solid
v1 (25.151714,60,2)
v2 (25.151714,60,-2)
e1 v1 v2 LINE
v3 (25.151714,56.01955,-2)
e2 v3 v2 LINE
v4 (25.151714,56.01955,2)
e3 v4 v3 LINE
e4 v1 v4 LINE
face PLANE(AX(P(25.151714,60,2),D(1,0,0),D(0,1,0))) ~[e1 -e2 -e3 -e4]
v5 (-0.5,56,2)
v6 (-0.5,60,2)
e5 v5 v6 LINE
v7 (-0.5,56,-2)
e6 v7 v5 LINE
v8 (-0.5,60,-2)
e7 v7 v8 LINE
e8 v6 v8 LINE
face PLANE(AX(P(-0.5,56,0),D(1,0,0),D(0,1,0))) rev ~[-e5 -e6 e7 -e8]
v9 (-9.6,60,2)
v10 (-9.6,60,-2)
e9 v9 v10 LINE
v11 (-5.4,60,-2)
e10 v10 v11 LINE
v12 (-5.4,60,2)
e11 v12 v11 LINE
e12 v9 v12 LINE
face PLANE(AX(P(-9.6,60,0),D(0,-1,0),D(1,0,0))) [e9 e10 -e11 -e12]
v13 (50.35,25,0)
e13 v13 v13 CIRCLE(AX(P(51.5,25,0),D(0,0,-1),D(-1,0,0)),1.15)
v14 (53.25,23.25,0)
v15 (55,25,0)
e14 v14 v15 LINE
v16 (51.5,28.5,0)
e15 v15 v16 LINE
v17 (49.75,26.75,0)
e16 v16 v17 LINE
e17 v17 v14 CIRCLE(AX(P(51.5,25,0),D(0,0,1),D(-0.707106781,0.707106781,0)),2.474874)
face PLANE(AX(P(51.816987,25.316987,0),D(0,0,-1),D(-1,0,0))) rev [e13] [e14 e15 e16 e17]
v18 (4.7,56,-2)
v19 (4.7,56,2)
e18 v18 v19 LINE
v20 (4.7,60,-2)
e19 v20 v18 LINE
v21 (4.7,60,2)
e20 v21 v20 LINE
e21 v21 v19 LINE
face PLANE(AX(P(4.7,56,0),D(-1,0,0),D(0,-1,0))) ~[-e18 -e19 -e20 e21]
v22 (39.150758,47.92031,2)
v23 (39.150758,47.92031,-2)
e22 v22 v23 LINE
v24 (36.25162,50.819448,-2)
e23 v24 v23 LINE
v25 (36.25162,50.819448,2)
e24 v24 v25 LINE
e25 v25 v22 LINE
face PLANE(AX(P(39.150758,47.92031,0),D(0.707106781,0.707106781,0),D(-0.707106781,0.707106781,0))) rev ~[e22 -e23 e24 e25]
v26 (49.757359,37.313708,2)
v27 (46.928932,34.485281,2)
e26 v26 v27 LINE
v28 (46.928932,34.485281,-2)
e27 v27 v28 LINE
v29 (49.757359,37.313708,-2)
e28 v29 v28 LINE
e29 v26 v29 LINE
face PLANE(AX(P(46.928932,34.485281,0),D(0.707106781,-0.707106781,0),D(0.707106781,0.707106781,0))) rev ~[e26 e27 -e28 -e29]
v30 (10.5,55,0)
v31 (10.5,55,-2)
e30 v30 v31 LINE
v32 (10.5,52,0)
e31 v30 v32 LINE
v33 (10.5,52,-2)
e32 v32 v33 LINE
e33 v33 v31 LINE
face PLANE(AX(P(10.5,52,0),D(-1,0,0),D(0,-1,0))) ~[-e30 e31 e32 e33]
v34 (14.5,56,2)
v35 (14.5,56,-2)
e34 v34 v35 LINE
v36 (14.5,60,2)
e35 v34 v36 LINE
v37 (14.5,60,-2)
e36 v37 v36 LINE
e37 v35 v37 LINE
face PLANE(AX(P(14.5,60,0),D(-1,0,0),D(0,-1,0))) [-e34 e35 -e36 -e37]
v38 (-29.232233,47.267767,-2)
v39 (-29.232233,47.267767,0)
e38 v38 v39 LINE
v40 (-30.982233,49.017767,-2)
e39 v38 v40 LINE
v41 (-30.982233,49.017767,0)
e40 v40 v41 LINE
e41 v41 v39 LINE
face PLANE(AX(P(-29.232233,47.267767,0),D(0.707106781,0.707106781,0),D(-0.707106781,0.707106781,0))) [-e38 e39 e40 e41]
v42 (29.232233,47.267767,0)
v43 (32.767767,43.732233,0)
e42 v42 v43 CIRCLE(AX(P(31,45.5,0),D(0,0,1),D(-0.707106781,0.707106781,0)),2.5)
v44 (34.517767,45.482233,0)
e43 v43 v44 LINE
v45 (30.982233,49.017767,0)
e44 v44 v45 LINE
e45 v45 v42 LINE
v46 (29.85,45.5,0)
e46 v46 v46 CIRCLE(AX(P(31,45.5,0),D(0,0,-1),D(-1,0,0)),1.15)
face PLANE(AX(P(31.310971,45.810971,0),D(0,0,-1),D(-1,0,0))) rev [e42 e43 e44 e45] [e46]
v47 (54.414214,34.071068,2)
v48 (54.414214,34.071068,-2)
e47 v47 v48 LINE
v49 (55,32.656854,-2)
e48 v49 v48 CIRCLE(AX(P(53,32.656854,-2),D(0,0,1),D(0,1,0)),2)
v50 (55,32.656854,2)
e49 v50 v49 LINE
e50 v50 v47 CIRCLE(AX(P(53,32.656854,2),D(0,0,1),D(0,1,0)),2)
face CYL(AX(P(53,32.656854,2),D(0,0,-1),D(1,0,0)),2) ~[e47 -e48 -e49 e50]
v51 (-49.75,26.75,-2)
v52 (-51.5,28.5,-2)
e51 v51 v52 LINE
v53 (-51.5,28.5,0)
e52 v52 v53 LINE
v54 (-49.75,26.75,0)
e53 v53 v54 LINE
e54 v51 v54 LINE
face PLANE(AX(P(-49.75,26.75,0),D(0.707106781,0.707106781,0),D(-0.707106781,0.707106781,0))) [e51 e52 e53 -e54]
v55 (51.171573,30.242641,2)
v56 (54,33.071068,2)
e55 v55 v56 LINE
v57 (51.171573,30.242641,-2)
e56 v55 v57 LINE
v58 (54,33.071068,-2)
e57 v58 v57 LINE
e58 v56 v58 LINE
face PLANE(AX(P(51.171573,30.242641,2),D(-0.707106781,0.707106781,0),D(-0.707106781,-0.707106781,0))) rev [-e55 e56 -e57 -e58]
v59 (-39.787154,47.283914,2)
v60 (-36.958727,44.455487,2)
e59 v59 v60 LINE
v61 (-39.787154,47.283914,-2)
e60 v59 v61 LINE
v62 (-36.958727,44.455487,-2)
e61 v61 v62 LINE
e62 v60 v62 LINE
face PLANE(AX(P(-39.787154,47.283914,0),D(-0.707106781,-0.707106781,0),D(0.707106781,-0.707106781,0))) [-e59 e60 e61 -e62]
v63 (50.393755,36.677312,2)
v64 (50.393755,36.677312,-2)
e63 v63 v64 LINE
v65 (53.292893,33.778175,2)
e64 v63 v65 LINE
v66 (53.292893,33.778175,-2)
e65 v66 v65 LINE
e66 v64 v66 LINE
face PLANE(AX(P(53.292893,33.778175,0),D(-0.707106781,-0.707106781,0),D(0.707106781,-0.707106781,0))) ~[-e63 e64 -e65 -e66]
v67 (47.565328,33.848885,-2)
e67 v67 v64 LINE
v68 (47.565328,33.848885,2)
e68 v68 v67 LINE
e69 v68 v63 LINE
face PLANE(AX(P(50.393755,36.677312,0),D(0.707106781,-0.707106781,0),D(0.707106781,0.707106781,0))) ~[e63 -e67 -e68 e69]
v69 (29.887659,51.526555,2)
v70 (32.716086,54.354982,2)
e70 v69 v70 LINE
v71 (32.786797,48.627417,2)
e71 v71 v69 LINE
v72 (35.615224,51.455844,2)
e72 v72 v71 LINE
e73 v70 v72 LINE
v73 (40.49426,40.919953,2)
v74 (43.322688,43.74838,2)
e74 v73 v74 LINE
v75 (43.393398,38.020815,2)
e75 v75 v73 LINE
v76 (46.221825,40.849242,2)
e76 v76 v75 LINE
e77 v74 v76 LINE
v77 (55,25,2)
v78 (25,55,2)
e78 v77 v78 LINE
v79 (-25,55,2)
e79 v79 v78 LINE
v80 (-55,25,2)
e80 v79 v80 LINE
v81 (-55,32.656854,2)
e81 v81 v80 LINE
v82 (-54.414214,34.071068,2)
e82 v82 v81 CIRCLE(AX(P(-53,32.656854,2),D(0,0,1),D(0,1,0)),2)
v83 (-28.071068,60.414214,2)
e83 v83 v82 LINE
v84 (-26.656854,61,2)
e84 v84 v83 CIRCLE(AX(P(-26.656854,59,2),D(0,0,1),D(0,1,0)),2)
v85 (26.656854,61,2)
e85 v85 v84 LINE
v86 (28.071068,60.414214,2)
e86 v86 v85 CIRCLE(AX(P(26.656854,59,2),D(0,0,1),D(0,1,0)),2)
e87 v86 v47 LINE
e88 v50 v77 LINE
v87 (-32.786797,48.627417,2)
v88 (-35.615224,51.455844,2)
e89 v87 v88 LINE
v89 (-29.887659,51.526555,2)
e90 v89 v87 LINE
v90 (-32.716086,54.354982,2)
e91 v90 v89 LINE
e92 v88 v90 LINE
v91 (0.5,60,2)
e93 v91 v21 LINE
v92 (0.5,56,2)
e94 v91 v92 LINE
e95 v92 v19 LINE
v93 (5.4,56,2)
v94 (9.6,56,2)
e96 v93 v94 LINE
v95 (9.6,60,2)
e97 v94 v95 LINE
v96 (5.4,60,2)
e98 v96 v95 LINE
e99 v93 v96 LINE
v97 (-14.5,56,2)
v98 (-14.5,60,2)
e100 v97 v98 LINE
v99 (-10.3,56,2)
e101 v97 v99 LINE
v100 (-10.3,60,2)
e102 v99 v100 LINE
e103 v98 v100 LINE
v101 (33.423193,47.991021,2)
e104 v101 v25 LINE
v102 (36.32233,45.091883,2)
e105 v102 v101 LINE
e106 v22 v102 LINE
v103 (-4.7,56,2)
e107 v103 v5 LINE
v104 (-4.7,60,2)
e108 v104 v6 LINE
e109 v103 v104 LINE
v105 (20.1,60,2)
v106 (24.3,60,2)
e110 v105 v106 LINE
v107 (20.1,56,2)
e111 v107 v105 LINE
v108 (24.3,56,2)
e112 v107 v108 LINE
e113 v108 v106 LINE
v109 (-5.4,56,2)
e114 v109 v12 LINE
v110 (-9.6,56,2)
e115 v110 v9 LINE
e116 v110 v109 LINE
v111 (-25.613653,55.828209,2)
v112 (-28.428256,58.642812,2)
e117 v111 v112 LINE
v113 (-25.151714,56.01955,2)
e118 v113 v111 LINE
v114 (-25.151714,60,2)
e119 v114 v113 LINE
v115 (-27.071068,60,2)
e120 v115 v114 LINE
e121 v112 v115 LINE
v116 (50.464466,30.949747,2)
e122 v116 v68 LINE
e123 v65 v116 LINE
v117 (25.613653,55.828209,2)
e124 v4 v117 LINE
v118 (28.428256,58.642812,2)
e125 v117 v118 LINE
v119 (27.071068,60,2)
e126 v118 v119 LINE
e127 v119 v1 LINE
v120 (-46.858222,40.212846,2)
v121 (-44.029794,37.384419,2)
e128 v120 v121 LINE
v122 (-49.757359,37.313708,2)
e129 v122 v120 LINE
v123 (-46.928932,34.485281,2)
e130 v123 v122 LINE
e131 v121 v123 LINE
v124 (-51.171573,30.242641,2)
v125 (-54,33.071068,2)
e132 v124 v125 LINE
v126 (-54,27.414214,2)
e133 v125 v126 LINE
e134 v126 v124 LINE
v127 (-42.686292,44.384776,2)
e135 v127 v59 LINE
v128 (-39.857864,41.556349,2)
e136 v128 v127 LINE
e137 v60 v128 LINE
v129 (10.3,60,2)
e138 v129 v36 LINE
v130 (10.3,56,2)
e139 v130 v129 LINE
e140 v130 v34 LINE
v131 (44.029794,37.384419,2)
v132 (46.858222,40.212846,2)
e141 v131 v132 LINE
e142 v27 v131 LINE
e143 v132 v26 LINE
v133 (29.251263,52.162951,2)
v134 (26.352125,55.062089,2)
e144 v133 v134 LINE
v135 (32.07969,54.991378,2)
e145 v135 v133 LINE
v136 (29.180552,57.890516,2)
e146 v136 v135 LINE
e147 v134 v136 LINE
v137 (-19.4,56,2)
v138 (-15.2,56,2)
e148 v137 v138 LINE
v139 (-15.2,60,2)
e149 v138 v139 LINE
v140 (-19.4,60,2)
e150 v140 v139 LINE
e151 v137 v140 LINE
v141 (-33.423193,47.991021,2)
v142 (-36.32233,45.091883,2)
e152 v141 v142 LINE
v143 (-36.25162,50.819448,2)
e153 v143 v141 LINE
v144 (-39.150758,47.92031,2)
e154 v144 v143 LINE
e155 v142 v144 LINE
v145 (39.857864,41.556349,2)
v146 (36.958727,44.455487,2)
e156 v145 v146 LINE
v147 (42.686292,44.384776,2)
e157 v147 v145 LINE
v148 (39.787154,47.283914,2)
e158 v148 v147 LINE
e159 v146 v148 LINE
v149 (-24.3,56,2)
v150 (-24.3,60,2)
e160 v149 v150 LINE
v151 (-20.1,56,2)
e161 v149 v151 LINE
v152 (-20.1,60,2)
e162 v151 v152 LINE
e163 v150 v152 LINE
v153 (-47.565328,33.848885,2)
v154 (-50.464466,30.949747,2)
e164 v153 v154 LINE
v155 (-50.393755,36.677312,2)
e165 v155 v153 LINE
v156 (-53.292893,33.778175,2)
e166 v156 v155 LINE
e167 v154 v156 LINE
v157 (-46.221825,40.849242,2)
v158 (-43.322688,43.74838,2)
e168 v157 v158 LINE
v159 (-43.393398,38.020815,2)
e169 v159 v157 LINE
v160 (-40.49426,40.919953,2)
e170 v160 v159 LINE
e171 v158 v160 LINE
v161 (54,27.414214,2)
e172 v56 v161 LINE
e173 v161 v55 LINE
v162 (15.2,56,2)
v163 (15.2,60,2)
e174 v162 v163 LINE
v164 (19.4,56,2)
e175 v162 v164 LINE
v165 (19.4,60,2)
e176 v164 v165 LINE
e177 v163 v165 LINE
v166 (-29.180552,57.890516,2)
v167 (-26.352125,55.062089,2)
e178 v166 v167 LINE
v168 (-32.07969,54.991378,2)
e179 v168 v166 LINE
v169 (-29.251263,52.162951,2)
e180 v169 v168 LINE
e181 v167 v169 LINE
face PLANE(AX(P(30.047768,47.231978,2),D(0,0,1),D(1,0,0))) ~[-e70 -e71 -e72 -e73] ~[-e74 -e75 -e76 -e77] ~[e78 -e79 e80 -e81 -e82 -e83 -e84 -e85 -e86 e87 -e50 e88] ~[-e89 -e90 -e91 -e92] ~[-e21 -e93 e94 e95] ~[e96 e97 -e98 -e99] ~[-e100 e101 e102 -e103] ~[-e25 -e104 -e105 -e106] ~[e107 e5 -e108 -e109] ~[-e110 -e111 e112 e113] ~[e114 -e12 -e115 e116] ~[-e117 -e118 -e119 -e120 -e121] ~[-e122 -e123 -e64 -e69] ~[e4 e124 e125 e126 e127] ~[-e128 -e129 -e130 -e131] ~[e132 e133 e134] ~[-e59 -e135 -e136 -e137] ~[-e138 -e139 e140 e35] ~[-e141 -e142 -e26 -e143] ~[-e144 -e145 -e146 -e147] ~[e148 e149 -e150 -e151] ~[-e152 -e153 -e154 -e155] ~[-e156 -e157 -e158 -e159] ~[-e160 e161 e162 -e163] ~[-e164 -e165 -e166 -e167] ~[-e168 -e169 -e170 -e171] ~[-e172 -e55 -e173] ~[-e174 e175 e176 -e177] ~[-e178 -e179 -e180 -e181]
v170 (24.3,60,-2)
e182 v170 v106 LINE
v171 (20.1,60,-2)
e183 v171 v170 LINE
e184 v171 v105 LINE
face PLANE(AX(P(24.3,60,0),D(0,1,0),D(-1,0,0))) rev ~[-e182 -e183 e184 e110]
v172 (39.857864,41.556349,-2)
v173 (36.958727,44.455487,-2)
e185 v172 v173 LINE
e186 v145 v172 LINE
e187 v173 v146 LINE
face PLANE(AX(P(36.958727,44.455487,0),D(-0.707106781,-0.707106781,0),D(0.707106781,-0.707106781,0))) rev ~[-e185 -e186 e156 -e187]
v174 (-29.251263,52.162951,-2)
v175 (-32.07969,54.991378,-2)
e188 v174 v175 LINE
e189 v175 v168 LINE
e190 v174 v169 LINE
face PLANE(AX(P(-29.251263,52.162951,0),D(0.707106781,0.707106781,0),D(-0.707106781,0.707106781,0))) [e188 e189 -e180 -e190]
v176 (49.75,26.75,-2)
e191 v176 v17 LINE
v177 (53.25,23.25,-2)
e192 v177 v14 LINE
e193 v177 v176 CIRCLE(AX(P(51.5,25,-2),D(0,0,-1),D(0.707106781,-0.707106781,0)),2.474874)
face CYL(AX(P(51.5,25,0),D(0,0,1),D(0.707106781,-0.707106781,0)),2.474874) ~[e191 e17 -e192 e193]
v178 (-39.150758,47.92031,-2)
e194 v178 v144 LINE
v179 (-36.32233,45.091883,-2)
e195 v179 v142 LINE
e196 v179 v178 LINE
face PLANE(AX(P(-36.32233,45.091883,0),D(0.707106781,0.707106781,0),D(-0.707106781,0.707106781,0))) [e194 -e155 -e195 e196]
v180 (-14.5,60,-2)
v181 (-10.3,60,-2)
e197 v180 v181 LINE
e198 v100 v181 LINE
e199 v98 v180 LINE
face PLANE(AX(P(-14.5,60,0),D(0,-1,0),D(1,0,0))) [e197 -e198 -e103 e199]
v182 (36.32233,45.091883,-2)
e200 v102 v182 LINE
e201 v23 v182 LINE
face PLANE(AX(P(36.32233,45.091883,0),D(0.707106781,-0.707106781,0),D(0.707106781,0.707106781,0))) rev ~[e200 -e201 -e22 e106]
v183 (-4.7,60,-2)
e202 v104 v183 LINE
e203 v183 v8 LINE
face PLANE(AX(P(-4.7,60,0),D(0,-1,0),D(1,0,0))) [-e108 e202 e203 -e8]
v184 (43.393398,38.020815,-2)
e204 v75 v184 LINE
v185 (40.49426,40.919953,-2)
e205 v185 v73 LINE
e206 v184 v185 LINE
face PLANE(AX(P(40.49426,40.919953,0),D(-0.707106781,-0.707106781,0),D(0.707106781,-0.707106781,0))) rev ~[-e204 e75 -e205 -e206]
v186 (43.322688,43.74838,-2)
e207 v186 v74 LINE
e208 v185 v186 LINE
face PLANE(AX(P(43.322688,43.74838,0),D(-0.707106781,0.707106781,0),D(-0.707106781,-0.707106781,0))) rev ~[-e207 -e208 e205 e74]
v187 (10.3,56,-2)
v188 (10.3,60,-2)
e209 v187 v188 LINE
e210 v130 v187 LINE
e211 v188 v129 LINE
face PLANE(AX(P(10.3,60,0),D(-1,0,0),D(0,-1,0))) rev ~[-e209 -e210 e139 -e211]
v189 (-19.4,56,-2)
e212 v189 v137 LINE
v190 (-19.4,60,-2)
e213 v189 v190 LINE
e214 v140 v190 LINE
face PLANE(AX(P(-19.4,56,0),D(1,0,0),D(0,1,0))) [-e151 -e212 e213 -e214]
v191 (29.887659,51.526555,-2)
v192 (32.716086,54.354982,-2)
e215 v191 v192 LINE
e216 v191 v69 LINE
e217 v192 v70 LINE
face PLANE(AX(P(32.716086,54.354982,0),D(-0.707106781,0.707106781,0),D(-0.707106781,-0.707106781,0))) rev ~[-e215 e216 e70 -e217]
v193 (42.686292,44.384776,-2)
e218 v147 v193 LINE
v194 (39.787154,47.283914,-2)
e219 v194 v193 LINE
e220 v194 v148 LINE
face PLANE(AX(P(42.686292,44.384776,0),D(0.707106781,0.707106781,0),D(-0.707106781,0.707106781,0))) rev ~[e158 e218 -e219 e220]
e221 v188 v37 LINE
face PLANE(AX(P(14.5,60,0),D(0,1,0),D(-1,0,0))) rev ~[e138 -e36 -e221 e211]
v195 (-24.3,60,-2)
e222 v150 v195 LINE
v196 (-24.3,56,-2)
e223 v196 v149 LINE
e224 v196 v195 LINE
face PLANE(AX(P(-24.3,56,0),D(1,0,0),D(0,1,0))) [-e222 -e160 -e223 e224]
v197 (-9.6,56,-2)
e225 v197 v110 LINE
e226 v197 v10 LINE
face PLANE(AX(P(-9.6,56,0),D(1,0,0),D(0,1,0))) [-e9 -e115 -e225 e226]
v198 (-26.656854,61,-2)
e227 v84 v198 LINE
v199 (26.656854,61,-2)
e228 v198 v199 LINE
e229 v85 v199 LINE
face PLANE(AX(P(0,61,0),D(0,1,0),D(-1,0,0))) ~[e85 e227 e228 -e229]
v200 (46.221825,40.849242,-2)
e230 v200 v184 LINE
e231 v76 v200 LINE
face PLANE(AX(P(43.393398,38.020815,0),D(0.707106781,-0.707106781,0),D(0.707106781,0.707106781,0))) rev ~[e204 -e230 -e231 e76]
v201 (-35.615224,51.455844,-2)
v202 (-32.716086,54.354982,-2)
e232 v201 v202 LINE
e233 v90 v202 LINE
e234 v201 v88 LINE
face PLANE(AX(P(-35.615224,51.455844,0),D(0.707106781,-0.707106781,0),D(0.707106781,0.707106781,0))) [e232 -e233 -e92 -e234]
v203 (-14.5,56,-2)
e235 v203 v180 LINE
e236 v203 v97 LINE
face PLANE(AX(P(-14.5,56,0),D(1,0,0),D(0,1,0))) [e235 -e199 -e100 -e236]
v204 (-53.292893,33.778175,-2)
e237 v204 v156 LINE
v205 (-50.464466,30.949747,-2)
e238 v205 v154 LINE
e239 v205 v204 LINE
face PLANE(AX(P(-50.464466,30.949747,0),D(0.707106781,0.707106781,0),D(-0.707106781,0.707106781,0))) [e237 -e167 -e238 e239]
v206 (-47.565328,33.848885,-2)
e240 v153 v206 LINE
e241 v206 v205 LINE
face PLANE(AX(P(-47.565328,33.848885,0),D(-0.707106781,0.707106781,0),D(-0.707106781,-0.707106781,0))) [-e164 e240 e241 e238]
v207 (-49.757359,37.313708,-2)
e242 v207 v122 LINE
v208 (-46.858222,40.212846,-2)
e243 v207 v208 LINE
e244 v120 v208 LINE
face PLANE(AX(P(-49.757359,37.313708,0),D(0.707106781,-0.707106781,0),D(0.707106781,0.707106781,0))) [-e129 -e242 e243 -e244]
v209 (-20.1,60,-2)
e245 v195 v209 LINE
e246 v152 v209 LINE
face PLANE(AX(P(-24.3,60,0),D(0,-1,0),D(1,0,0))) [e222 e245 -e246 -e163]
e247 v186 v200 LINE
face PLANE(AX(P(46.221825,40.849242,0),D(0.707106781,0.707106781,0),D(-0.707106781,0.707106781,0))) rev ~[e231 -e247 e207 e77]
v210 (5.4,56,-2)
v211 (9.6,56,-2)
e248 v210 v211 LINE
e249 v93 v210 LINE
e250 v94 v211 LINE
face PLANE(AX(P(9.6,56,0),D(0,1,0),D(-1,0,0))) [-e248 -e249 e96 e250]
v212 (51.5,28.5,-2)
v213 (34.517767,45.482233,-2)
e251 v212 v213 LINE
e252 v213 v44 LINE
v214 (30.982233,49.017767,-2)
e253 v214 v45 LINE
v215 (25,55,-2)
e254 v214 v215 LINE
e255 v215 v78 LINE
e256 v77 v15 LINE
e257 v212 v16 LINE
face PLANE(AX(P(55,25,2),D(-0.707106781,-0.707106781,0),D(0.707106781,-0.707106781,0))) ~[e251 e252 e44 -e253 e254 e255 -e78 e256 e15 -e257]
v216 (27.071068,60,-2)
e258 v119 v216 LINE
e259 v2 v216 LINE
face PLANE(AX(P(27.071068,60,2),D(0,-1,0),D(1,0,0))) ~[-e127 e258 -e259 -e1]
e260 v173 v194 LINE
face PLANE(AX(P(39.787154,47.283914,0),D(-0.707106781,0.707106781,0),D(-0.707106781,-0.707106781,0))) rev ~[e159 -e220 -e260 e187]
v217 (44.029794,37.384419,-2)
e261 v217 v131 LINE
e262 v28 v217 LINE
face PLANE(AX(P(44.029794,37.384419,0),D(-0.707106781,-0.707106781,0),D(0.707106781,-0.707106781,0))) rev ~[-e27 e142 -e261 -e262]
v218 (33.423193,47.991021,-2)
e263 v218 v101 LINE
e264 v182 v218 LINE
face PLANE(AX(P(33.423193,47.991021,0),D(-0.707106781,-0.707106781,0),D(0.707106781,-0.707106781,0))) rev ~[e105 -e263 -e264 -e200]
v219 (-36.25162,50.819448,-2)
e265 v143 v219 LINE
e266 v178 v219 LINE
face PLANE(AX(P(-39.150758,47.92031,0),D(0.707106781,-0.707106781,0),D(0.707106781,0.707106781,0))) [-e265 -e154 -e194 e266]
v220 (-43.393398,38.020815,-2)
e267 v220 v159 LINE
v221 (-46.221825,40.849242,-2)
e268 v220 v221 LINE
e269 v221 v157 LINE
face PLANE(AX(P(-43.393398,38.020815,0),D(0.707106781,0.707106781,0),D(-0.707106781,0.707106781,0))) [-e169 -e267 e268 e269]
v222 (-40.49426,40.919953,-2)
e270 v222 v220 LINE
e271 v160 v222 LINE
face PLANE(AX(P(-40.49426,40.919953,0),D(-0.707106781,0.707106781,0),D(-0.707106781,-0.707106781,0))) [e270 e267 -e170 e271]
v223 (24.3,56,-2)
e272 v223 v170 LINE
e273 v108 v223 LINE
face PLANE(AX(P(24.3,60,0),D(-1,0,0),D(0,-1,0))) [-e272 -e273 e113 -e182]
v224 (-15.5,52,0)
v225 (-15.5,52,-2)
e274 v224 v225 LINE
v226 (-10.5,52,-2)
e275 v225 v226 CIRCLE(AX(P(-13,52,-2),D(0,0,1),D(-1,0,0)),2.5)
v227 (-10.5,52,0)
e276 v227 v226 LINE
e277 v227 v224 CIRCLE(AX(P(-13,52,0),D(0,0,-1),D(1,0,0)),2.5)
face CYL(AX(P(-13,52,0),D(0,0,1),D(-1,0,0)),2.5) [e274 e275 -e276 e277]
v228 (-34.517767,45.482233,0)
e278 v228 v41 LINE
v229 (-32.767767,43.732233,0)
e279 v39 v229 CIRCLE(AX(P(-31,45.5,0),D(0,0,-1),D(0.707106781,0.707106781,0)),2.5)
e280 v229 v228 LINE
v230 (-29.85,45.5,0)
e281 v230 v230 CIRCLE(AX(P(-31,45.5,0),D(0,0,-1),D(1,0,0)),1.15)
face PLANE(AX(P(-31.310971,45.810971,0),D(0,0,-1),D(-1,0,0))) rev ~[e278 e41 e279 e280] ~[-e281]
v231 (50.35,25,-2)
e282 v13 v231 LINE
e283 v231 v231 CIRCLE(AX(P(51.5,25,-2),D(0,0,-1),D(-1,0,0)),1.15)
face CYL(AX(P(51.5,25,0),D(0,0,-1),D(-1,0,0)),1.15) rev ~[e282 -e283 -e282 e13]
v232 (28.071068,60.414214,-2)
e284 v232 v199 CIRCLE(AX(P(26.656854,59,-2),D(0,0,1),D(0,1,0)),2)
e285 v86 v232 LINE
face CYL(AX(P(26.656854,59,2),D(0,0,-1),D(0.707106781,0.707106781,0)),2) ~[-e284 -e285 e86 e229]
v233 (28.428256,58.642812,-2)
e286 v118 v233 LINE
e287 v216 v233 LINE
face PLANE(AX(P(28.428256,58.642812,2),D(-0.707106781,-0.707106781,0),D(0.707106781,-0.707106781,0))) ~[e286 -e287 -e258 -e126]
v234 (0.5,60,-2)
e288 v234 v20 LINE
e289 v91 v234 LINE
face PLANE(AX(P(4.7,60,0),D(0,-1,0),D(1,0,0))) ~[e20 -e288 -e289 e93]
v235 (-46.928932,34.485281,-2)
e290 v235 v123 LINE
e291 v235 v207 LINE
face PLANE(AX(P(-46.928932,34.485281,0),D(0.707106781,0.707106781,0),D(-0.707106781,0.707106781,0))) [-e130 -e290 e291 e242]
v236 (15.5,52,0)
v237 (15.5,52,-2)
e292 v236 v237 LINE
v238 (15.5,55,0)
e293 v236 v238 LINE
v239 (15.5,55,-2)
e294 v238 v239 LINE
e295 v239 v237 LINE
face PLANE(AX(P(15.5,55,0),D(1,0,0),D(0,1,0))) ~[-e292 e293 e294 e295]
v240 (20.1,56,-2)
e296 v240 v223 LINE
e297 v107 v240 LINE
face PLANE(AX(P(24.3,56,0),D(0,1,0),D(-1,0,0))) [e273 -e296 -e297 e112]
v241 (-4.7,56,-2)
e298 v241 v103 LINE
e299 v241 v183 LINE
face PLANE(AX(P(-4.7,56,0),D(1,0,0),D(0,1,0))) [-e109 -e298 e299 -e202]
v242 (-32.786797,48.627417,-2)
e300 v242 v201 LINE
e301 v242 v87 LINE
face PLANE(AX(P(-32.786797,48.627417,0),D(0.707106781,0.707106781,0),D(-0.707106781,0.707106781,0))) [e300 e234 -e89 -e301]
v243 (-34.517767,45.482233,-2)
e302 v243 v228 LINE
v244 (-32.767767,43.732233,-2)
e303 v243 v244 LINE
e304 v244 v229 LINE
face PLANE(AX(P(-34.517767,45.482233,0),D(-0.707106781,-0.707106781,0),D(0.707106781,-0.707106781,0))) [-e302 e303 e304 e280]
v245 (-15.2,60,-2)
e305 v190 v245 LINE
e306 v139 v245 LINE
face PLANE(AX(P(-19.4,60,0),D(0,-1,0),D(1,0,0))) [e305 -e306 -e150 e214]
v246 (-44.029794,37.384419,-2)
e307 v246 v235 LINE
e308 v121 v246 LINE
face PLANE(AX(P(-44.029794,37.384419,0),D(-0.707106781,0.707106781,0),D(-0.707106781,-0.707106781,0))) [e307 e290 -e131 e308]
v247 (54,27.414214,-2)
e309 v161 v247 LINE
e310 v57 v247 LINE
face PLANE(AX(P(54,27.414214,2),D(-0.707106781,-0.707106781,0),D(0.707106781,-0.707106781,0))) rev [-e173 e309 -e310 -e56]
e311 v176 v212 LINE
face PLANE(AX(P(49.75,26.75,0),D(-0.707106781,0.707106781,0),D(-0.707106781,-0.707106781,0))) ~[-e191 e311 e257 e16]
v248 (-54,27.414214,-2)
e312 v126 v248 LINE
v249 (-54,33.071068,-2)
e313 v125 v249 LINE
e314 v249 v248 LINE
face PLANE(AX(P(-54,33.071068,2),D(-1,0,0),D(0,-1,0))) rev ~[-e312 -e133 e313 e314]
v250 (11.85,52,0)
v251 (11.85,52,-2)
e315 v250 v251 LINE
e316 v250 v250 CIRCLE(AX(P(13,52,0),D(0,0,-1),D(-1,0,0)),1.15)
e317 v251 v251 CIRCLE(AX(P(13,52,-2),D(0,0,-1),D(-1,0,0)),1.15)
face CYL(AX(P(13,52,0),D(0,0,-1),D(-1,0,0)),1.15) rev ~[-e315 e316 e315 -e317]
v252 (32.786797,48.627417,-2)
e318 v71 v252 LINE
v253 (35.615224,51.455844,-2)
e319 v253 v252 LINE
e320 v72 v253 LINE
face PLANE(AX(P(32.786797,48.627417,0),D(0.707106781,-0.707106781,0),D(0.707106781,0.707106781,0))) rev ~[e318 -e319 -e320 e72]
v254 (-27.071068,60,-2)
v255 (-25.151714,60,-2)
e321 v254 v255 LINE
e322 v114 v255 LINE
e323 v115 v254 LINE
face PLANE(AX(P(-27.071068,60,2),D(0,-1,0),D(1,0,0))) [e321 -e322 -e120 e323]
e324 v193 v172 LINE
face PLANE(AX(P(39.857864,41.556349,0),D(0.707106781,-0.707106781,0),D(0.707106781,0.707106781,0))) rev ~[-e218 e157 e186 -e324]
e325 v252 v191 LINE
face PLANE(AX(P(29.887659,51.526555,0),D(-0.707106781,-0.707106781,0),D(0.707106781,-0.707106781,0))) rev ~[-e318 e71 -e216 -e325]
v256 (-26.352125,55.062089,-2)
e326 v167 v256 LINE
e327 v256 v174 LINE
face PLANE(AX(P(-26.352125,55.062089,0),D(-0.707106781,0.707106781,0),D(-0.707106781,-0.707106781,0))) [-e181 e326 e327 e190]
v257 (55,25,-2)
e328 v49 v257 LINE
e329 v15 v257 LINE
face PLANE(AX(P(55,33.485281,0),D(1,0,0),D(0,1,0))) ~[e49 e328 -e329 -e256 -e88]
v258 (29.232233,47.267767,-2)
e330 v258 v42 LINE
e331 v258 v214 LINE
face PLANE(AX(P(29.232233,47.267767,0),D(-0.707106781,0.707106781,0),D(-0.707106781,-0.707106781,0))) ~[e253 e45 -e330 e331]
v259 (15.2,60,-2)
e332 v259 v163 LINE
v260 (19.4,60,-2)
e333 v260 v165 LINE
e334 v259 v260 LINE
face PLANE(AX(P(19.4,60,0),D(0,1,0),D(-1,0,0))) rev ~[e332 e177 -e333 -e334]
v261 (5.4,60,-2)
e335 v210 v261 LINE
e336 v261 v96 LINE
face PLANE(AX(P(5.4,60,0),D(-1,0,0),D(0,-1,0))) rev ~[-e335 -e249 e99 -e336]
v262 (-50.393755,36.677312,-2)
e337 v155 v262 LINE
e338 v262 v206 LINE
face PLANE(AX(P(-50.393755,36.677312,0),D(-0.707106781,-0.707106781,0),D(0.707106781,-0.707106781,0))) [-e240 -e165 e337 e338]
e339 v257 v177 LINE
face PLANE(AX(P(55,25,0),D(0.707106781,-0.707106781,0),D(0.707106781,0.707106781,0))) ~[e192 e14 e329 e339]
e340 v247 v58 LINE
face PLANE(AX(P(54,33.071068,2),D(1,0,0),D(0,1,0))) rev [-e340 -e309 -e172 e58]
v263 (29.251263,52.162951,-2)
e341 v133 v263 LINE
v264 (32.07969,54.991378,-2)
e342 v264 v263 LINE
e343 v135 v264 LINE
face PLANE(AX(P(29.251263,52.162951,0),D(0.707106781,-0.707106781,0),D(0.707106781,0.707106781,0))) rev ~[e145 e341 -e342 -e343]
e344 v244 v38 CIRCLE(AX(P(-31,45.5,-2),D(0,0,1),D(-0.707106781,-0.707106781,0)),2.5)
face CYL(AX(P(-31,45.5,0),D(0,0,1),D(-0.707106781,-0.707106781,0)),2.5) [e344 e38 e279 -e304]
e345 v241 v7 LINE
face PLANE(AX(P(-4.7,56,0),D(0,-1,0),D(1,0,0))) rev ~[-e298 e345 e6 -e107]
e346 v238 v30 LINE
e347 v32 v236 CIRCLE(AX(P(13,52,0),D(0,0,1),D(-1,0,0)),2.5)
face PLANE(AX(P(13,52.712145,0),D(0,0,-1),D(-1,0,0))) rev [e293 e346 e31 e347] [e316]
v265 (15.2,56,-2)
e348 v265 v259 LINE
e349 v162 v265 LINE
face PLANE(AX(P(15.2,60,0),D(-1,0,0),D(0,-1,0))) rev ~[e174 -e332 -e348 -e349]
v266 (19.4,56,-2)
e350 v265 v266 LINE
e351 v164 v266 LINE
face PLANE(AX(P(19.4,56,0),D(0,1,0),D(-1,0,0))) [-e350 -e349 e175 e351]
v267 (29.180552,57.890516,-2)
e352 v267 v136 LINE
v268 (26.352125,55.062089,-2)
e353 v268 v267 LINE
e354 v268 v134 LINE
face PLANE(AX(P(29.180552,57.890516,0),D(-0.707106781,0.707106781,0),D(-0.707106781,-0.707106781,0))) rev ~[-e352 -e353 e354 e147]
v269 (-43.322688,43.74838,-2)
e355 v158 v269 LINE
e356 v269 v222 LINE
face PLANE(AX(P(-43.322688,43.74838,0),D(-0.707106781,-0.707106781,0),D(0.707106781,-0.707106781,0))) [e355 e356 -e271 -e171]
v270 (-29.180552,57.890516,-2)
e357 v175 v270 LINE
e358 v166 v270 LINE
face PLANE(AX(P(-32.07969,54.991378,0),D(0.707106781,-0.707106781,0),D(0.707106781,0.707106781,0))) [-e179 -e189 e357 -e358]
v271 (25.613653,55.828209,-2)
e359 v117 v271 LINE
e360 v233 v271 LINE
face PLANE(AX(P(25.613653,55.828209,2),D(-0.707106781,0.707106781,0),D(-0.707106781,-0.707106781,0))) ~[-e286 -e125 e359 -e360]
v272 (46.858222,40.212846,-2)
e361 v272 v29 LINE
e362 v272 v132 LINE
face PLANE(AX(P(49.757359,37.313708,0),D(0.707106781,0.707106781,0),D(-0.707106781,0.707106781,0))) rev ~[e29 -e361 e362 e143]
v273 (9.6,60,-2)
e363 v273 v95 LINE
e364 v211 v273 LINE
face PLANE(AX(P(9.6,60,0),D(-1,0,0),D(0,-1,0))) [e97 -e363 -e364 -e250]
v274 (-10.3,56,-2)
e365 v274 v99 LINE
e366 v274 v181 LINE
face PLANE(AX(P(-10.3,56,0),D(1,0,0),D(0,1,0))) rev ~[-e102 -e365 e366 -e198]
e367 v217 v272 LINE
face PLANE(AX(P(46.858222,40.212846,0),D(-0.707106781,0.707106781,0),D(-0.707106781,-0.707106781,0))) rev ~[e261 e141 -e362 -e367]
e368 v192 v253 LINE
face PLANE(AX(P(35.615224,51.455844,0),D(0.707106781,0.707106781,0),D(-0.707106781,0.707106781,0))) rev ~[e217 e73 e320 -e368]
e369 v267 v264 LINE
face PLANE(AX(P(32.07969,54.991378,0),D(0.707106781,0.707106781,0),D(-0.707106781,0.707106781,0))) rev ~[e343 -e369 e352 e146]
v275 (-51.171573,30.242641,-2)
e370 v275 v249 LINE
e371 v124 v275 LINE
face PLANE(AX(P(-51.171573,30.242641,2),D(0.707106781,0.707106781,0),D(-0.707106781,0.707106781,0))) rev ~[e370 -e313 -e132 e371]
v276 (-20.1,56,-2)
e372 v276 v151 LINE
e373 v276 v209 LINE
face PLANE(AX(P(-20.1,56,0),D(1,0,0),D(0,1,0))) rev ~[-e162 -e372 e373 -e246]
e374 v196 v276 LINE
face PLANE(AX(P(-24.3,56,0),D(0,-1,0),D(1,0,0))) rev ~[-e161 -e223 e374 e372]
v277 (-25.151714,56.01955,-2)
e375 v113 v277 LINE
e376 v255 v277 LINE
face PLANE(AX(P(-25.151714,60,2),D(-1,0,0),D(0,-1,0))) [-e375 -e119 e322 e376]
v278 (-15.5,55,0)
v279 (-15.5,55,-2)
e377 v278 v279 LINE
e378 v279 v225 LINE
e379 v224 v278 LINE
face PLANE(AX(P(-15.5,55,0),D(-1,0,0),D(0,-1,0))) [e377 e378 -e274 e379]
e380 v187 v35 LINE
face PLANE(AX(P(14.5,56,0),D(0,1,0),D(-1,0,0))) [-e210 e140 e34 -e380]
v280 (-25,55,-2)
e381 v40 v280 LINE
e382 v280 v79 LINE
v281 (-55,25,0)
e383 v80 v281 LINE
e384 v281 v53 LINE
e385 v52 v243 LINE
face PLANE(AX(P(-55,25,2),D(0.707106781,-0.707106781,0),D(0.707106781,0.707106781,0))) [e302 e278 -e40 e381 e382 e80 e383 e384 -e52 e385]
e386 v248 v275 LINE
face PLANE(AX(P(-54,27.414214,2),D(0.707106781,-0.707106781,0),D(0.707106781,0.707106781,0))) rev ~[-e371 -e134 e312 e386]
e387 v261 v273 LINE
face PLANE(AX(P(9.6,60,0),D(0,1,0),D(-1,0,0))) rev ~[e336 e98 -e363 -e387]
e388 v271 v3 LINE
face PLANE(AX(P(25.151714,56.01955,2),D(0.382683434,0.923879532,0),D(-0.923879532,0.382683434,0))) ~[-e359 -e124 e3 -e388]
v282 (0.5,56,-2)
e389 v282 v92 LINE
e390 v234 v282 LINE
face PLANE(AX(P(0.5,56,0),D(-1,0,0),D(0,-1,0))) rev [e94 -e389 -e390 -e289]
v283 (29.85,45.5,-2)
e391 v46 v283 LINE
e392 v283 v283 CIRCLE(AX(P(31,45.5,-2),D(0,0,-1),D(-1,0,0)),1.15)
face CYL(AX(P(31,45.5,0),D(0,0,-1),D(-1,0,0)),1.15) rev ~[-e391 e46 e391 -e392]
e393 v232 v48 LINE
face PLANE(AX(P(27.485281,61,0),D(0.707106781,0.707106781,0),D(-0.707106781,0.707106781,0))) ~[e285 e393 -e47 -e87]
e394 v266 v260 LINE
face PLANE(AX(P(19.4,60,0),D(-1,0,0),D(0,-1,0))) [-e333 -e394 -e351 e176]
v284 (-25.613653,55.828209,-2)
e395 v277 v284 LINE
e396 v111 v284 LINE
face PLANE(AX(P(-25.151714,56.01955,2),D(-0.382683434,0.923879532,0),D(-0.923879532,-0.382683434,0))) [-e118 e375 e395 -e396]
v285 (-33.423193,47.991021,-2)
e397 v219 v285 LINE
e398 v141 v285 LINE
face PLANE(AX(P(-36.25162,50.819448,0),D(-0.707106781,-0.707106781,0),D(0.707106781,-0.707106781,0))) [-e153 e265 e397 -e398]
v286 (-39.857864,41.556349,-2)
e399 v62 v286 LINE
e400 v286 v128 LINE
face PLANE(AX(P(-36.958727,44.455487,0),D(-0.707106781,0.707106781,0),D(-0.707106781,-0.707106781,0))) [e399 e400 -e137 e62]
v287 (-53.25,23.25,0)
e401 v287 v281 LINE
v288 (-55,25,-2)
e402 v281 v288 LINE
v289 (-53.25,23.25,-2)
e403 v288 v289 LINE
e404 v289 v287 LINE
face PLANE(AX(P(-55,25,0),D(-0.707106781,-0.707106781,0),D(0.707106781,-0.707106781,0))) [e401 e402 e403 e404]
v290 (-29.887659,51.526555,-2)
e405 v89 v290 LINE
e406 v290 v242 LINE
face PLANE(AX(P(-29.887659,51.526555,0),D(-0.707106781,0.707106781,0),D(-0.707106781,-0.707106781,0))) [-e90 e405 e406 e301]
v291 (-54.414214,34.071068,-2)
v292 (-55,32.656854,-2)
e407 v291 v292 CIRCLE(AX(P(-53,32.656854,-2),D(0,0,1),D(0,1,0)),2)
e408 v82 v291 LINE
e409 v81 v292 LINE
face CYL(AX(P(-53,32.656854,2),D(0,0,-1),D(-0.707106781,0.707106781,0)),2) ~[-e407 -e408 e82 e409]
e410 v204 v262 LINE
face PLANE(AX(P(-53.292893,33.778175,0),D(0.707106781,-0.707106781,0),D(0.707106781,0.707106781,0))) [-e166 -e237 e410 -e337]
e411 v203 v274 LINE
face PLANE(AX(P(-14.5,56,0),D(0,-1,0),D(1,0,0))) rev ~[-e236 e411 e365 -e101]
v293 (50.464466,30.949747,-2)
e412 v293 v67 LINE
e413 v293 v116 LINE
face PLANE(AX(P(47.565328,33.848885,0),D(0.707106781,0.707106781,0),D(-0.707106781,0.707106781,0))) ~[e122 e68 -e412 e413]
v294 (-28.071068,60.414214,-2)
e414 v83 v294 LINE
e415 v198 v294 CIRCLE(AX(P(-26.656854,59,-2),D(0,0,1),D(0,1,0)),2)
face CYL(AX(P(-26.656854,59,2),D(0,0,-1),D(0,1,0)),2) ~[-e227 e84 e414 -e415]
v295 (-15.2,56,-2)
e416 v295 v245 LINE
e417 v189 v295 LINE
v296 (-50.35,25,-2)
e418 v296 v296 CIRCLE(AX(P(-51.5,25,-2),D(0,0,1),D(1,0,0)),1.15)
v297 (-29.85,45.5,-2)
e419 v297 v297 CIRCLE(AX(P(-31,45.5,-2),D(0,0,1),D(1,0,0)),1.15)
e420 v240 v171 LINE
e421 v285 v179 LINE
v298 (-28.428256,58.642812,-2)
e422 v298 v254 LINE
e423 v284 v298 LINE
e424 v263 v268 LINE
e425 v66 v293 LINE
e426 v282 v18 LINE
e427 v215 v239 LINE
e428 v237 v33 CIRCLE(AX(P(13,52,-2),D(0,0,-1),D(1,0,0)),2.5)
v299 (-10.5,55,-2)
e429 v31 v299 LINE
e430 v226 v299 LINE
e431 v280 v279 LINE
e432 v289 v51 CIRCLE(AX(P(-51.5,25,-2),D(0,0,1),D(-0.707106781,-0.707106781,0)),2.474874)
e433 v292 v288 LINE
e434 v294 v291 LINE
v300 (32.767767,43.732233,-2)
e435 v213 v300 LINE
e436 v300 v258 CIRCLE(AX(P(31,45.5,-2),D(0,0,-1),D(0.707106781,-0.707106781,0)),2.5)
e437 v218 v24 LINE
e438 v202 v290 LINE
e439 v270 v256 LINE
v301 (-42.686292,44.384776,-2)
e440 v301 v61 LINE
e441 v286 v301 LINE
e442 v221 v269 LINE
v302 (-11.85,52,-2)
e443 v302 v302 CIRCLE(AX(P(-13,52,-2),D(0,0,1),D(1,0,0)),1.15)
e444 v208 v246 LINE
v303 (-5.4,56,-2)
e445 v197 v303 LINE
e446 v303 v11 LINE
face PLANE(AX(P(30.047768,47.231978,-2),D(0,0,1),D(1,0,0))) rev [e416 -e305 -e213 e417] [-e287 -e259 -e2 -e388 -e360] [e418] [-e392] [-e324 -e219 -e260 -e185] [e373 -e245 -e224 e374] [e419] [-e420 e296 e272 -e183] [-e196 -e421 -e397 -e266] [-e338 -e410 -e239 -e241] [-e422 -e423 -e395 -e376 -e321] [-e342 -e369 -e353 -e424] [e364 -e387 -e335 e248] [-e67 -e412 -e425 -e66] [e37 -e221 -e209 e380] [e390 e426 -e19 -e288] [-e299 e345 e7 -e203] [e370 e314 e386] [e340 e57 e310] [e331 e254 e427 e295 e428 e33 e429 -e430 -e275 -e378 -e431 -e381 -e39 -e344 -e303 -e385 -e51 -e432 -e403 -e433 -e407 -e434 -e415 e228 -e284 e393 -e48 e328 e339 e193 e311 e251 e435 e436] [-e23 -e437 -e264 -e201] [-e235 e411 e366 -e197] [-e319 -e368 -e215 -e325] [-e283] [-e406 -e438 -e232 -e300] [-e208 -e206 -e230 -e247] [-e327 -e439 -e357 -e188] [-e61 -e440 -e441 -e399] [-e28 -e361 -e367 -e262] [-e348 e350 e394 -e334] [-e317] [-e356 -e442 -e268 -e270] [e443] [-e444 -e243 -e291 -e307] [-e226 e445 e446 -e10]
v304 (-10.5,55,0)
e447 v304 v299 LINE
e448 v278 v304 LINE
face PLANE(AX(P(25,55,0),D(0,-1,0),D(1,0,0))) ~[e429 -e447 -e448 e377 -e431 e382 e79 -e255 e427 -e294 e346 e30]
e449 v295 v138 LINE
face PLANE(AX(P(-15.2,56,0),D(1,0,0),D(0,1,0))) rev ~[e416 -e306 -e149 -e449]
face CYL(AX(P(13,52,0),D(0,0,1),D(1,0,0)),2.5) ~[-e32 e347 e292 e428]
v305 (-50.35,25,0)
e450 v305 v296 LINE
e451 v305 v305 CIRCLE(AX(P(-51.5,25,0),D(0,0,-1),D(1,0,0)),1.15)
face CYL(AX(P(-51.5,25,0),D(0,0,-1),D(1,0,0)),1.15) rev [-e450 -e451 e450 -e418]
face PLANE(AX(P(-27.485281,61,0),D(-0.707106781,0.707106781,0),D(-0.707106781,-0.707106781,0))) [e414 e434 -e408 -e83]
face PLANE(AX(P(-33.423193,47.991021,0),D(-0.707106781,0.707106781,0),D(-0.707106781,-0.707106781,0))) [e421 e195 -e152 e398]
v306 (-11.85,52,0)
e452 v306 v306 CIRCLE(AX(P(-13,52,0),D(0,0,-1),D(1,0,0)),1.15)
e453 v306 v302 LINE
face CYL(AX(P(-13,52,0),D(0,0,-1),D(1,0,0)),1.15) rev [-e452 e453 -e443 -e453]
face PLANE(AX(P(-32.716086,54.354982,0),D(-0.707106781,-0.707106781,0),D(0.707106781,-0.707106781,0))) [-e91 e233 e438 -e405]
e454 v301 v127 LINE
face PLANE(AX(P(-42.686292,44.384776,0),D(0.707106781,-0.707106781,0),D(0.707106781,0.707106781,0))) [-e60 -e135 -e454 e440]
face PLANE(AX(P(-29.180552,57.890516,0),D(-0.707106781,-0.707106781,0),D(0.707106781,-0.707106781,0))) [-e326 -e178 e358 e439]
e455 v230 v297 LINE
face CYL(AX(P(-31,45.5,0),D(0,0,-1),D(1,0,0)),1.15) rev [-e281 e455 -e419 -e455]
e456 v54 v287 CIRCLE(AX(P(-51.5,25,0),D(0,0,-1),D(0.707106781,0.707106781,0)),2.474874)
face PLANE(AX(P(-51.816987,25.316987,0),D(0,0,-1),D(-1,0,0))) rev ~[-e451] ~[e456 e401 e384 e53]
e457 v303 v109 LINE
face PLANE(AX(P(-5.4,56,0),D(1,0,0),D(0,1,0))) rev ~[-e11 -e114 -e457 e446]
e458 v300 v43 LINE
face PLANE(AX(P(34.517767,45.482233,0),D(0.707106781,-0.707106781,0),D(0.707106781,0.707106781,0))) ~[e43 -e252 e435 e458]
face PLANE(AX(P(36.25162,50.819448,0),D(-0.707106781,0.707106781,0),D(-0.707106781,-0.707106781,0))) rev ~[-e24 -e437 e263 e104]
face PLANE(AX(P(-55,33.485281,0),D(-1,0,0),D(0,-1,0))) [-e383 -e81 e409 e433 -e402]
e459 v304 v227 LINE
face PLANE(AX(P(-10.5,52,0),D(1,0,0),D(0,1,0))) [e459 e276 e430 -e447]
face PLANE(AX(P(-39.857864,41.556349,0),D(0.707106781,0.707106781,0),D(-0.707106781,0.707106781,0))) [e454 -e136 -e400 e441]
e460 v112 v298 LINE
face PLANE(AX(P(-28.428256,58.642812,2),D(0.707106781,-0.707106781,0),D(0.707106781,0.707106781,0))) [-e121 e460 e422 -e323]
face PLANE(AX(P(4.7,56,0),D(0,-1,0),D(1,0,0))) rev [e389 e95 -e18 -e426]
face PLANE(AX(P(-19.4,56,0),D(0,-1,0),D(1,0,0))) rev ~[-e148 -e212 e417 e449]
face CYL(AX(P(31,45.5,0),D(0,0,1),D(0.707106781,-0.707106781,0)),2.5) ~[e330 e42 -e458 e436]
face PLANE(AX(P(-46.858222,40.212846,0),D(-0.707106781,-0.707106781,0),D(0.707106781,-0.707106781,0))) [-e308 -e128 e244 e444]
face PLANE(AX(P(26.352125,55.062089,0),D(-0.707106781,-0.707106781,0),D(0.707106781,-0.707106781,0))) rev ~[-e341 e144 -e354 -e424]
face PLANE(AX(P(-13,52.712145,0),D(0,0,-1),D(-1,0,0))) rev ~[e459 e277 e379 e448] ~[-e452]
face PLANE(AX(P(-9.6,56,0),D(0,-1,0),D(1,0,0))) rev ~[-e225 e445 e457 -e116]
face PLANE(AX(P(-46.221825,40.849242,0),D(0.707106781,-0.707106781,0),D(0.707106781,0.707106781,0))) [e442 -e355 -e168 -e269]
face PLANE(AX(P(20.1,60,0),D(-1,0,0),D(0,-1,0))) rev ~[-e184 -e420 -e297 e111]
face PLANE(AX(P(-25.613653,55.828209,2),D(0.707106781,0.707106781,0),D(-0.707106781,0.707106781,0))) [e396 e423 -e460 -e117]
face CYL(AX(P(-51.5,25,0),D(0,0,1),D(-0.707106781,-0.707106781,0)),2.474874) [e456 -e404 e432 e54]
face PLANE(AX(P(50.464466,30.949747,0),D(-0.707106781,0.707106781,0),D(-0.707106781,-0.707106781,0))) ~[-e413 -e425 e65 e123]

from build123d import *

# Parameters (mm, degrees)
SKETCH3_R                = 1.15
BOSS_EXTRUDE1_DEPTH      = 2
CUT_EXTRUDE4_DEPTH       = 2
FILLET1_R                = 2
CUT_EXTRUDE1_DEPTH       = 83.231380871
CUT_EXTRUDE2_DEPTH       = 83.158383626
LPATTERN1_COUNT          = 7
LPATTERN1_PITCH          = 5
SKETCH7_W                = 4.2
SKETCH7_H                = 4
CUT_EXTRUDE3_DEPTH       = 83.158383626
LPATTERN2_COUNT          = 5
LPATTERN2_PITCH          = 4.9
MIRROR1_COPY_1_DEPTH     = 83.158383626
MIRROR1_COPY_2_DEPTH     = 83.158383626
MIRROR1_COPY_3_DEPTH     = 83.158383626
MIRROR1_COPY_4_DEPTH     = 83.158383626
MIRROR1_COPY_5_DEPTH     = 83.158383626
MIRROR1_COPY_6_DEPTH     = 83.158383626
MIRROR1_COPY_7_SKETCH_W  = 4.2
MIRROR1_COPY_7_SKETCH_H  = 4
MIRROR1_COPY_7_DEPTH     = 83.158383626
MIRROR1_COPY_8_SKETCH_W  = 4.2
MIRROR1_COPY_8_SKETCH_H  = 4
MIRROR1_COPY_8_DEPTH     = 83.158383626
MIRROR1_COPY_9_SKETCH_W  = 4.2
MIRROR1_COPY_9_SKETCH_H  = 4
MIRROR1_COPY_9_DEPTH     = 83.158383626
MIRROR1_COPY_10_SKETCH_W = 4.2
MIRROR1_COPY_10_SKETCH_H = 4
MIRROR1_COPY_10_DEPTH    = 83.158383626
FILLET1_OF_MIRROR1_R     = 2


with BuildPart() as part:
    # Sketch3 → Boss-Extrude1 (new, symmetric)
    with BuildSketch(Plane.XY):
        with BuildLine():
            Line((-55, 25), (-53.25, 23.25))
            ThreePointArc((-53.25, 23.25), (-49.75, 23.25), (-49.75, 26.75))
            Line((-49.75, 26.75), (-51.5, 28.5))
            Line((-51.5, 28.5), (-34.517766953, 45.482233047))
            Line((-34.517766953, 45.482233047), (-32.767766953, 43.732233047))
            ThreePointArc((-32.767766953, 43.732233047), (-29.232233047, 43.732233047), (-29.232233047, 47.267766953))
            Line((-29.232233047, 47.267766953), (-30.982233047, 49.017766953))
            Line((-30.982233047, 49.017766953), (-25, 55))
            Line((-25, 55), (-15.5, 55))
            Line((-15.5, 55), (-15.5, 52))
            ThreePointArc((-15.5, 52), (-13, 49.5), (-10.5, 52))
            Line((-10.5, 52), (-10.5, 55))
            Line((-10.5, 55), (0, 55))
            Line((0, 55), (0, 61))
            Line((0, 61), (-27.485281374, 61))
            Line((-27.485281374, 61), (-55, 33.485281374))
            Line((-55, 33.485281374), (-55, 25))
        make_face()
        with Locations((-13, 52)):
            Circle(SKETCH3_R, mode=Mode.SUBTRACT)
        with Locations((-31, 45.5)):
            Circle(SKETCH3_R, mode=Mode.SUBTRACT)
        with Locations((-51.5, 25)):
            Circle(SKETCH3_R, mode=Mode.SUBTRACT)
    boss_extrude1 = extrude(amount=BOSS_EXTRUDE1_DEPTH, both=True)

    # Sketch8 → Cut-Extrude4 (cut)
    with BuildSketch(Plane.XY.offset(2)):
        with BuildLine():
            Line((-55, 25), (-51.5, 28.5))
            Line((-51.5, 28.5), (-49.75, 26.75))
            ThreePointArc((-49.75, 26.75), (-49.75, 23.25), (-53.25, 23.25))
            Line((-53.25, 23.25), (-55, 25))
        make_face()
        with BuildLine():
            Line((-34.517766953, 45.482233047), (-30.982233047, 49.017766953))
            Line((-30.982233047, 49.017766953), (-29.232233047, 47.267766953))
            ThreePointArc((-29.232233047, 47.267766953), (-29.232233047, 43.732233047), (-32.767766953, 43.732233047))
            Line((-32.767766953, 43.732233047), (-34.517766953, 45.482233047))
        make_face()
        with BuildLine():
            Line((-15.5, 55), (-10.5, 55))
            Line((-10.5, 55), (-10.5, 52))
            ThreePointArc((-10.5, 52), (-13, 49.5), (-15.5, 52))
            Line((-15.5, 52), (-15.5, 55))
        make_face()
    cut_extrude4 = extrude(amount=-CUT_EXTRUDE4_DEPTH, mode=Mode.SUBTRACT)

    # Fillet1
    fillet1_edges = [part.edges().sort_by_distance(p)[0] for p in [
        (-55, 33.485281374, 0),
        (-27.485281374, 61, 0),
    ]]
    fillet(fillet1_edges, radius=FILLET1_R)

    # Sketch5 → Cut-Extrude1 (cut, through all)
    with BuildSketch(Plane.XY.offset(2)):
        Polygon((-28.428256226, 58.642811585), (-27.071067812, 60), (-25.151713549, 60), (-25.151713549, 56.019550391), (-25.613653315, 55.828208674), align=None)
        Polygon((-54, 33.071067812), (-54, 27.414213562), (-51.171572875, 30.242640687), align=None)
    cut_extrude1 = extrude(amount=-CUT_EXTRUDE1_DEPTH, mode=Mode.SUBTRACT)

    # Sketch6 → Cut-Extrude2 (cut, symmetric)
    with BuildSketch(Plane.XY):
        Polygon((-53.292893219, 33.778174593), (-50.393755416, 36.677312396), (-47.565328291, 33.848885271), (-50.464466094, 30.949747468), align=None)
    cut_extrude2 = extrude(amount=CUT_EXTRUDE2_DEPTH, both=True, mode=Mode.SUBTRACT)

    # LPattern1: Cut-Extrude2 ×7
    with Locations(*[Vector(0.7071067811865472, 0.7071067811865478, 0) * (i * LPATTERN1_PITCH) for i in range(1, LPATTERN1_COUNT)]):
        add(cut_extrude2, mode=Mode.SUBTRACT)

    # Sketch7 → Cut-Extrude3 (cut, symmetric)
    with BuildSketch(Plane.XY):
        with Locations((-2.6, 58)):
            Rectangle(SKETCH7_W, SKETCH7_H)
    cut_extrude3 = extrude(amount=CUT_EXTRUDE3_DEPTH, both=True, mode=Mode.SUBTRACT)

    # LPattern2: Cut-Extrude3 ×5
    with Locations(*[(-i * LPATTERN2_PITCH, 0, 0) for i in range(1, LPATTERN2_COUNT)]):
        add(cut_extrude3, mode=Mode.SUBTRACT)

    # Mirror1: Boss-Extrude1, Cut-Extrude4, Cut-Extrude1, Cut-Extrude2, Cut-Extrude3 across plane
    add(boss_extrude1.mirror(Plane(origin=(0, 55, 2), x_dir=(0, 0, 1), z_dir=(-1, 0, 0))))
    add(cut_extrude4.mirror(Plane(origin=(0, 55, 2), x_dir=(0, 0, 1), z_dir=(-1, 0, 0))), mode=Mode.SUBTRACT)
    add(cut_extrude1.mirror(Plane(origin=(0, 55, 2), x_dir=(0, 0, 1), z_dir=(-1, 0, 0))), mode=Mode.SUBTRACT)
    add(cut_extrude2.mirror(Plane(origin=(0, 55, 2), x_dir=(0, 0, 1), z_dir=(-1, 0, 0))), mode=Mode.SUBTRACT)
    add(cut_extrude3.mirror(Plane(origin=(0, 55, 2), x_dir=(0, 0, 1), z_dir=(-1, 0, 0))), mode=Mode.SUBTRACT)

    # Mirror1 copy 1 sketch → Mirror1 copy 1 (cut, symmetric)
    with BuildSketch(Plane(origin=(-3.535533906, 3.535533906, 0), x_dir=(-1, 0, 0), z_dir=(0, 0, 1))):
        Polygon((-53.292893219, -33.778174593), (-50.393755416, -36.677312396), (-47.565328291, -33.848885271), (-50.464466094, -30.949747468), align=None)
    extrude(amount=MIRROR1_COPY_1_DEPTH, both=True, mode=Mode.SUBTRACT)

    # Mirror1 copy 2 sketch → Mirror1 copy 2 (cut, symmetric)
    with BuildSketch(Plane(origin=(-7.071067812, 7.071067812, 0), x_dir=(-1, 0, 0), z_dir=(0, 0, 1))):
        Polygon((-53.292893219, -33.778174593), (-50.393755416, -36.677312396), (-47.565328291, -33.848885271), (-50.464466094, -30.949747468), align=None)
    extrude(amount=MIRROR1_COPY_2_DEPTH, both=True, mode=Mode.SUBTRACT)

    # Mirror1 copy 3 sketch → Mirror1 copy 3 (cut, symmetric)
    with BuildSketch(Plane(origin=(-10.606601718, 10.606601718, 0), x_dir=(-1, 0, 0), z_dir=(0, 0, 1))):
        Polygon((-53.292893219, -33.778174593), (-50.393755416, -36.677312396), (-47.565328291, -33.848885271), (-50.464466094, -30.949747468), align=None)
    extrude(amount=MIRROR1_COPY_3_DEPTH, both=True, mode=Mode.SUBTRACT)

    # Mirror1 copy 4 sketch → Mirror1 copy 4 (cut, symmetric)
    with BuildSketch(Plane(origin=(-14.142135624, 14.142135624, 0), x_dir=(-1, 0, 0), z_dir=(0, 0, 1))):
        Polygon((-53.292893219, -33.778174593), (-50.393755416, -36.677312396), (-47.565328291, -33.848885271), (-50.464466094, -30.949747468), align=None)
    extrude(amount=MIRROR1_COPY_4_DEPTH, both=True, mode=Mode.SUBTRACT)

    # Mirror1 copy 5 sketch → Mirror1 copy 5 (cut, symmetric)
    with BuildSketch(Plane(origin=(-17.67766953, 17.67766953, 0), x_dir=(-1, 0, 0), z_dir=(0, 0, 1))):
        Polygon((-53.292893219, -33.778174593), (-50.393755416, -36.677312396), (-47.565328291, -33.848885271), (-50.464466094, -30.949747468), align=None)
    extrude(amount=MIRROR1_COPY_5_DEPTH, both=True, mode=Mode.SUBTRACT)

    # Mirror1 copy 6 sketch → Mirror1 copy 6 (cut, symmetric)
    with BuildSketch(Plane(origin=(-21.213203436, 21.213203436, 0), x_dir=(-1, 0, 0), z_dir=(0, 0, 1))):
        Polygon((-53.292893219, -33.778174593), (-50.393755416, -36.677312396), (-47.565328291, -33.848885271), (-50.464466094, -30.949747468), align=None)
    extrude(amount=MIRROR1_COPY_6_DEPTH, both=True, mode=Mode.SUBTRACT)

    # Mirror1 copy 7 sketch → Mirror1 copy 7 (cut, symmetric)
    with BuildSketch(Plane(origin=(4.9, 0, 0), x_dir=(-1, 0, 0), z_dir=(0, 0, 1))):
        with Locations((-2.6, -58)):
            Rectangle(MIRROR1_COPY_7_SKETCH_W, MIRROR1_COPY_7_SKETCH_H)
    extrude(amount=MIRROR1_COPY_7_DEPTH, both=True, mode=Mode.SUBTRACT)

    # Mirror1 copy 8 sketch → Mirror1 copy 8 (cut, symmetric)
    with BuildSketch(Plane(origin=(9.8, 0, 0), x_dir=(-1, 0, 0), z_dir=(0, 0, 1))):
        with Locations((-2.6, -58)):
            Rectangle(MIRROR1_COPY_8_SKETCH_W, MIRROR1_COPY_8_SKETCH_H)
    extrude(amount=MIRROR1_COPY_8_DEPTH, both=True, mode=Mode.SUBTRACT)

    # Mirror1 copy 9 sketch → Mirror1 copy 9 (cut, symmetric)
    with BuildSketch(Plane(origin=(14.7, 0, 0), x_dir=(-1, 0, 0), z_dir=(0, 0, 1))):
        with Locations((-2.6, -58)):
            Rectangle(MIRROR1_COPY_9_SKETCH_W, MIRROR1_COPY_9_SKETCH_H)
    extrude(amount=MIRROR1_COPY_9_DEPTH, both=True, mode=Mode.SUBTRACT)

    # Mirror1 copy 10 sketch → Mirror1 copy 10 (cut, symmetric)
    with BuildSketch(Plane(origin=(19.6, 0, 0), x_dir=(-1, 0, 0), z_dir=(0, 0, 1))):
        with Locations((-2.6, -58)):
            Rectangle(MIRROR1_COPY_10_SKETCH_W, MIRROR1_COPY_10_SKETCH_H)
    extrude(amount=MIRROR1_COPY_10_DEPTH, both=True, mode=Mode.SUBTRACT)

    # Fillet1 of Mirror1
    fillet1_of_mirror1_edges = [part.edges().sort_by_distance(p)[0] for p in [
        (55, 33.485281374, 0),
        (27.485281374, 61, 0),
    ]]
    fillet(fillet1_of_mirror1_edges, radius=FILLET1_OF_MIRROR1_R)


solid = part.part
